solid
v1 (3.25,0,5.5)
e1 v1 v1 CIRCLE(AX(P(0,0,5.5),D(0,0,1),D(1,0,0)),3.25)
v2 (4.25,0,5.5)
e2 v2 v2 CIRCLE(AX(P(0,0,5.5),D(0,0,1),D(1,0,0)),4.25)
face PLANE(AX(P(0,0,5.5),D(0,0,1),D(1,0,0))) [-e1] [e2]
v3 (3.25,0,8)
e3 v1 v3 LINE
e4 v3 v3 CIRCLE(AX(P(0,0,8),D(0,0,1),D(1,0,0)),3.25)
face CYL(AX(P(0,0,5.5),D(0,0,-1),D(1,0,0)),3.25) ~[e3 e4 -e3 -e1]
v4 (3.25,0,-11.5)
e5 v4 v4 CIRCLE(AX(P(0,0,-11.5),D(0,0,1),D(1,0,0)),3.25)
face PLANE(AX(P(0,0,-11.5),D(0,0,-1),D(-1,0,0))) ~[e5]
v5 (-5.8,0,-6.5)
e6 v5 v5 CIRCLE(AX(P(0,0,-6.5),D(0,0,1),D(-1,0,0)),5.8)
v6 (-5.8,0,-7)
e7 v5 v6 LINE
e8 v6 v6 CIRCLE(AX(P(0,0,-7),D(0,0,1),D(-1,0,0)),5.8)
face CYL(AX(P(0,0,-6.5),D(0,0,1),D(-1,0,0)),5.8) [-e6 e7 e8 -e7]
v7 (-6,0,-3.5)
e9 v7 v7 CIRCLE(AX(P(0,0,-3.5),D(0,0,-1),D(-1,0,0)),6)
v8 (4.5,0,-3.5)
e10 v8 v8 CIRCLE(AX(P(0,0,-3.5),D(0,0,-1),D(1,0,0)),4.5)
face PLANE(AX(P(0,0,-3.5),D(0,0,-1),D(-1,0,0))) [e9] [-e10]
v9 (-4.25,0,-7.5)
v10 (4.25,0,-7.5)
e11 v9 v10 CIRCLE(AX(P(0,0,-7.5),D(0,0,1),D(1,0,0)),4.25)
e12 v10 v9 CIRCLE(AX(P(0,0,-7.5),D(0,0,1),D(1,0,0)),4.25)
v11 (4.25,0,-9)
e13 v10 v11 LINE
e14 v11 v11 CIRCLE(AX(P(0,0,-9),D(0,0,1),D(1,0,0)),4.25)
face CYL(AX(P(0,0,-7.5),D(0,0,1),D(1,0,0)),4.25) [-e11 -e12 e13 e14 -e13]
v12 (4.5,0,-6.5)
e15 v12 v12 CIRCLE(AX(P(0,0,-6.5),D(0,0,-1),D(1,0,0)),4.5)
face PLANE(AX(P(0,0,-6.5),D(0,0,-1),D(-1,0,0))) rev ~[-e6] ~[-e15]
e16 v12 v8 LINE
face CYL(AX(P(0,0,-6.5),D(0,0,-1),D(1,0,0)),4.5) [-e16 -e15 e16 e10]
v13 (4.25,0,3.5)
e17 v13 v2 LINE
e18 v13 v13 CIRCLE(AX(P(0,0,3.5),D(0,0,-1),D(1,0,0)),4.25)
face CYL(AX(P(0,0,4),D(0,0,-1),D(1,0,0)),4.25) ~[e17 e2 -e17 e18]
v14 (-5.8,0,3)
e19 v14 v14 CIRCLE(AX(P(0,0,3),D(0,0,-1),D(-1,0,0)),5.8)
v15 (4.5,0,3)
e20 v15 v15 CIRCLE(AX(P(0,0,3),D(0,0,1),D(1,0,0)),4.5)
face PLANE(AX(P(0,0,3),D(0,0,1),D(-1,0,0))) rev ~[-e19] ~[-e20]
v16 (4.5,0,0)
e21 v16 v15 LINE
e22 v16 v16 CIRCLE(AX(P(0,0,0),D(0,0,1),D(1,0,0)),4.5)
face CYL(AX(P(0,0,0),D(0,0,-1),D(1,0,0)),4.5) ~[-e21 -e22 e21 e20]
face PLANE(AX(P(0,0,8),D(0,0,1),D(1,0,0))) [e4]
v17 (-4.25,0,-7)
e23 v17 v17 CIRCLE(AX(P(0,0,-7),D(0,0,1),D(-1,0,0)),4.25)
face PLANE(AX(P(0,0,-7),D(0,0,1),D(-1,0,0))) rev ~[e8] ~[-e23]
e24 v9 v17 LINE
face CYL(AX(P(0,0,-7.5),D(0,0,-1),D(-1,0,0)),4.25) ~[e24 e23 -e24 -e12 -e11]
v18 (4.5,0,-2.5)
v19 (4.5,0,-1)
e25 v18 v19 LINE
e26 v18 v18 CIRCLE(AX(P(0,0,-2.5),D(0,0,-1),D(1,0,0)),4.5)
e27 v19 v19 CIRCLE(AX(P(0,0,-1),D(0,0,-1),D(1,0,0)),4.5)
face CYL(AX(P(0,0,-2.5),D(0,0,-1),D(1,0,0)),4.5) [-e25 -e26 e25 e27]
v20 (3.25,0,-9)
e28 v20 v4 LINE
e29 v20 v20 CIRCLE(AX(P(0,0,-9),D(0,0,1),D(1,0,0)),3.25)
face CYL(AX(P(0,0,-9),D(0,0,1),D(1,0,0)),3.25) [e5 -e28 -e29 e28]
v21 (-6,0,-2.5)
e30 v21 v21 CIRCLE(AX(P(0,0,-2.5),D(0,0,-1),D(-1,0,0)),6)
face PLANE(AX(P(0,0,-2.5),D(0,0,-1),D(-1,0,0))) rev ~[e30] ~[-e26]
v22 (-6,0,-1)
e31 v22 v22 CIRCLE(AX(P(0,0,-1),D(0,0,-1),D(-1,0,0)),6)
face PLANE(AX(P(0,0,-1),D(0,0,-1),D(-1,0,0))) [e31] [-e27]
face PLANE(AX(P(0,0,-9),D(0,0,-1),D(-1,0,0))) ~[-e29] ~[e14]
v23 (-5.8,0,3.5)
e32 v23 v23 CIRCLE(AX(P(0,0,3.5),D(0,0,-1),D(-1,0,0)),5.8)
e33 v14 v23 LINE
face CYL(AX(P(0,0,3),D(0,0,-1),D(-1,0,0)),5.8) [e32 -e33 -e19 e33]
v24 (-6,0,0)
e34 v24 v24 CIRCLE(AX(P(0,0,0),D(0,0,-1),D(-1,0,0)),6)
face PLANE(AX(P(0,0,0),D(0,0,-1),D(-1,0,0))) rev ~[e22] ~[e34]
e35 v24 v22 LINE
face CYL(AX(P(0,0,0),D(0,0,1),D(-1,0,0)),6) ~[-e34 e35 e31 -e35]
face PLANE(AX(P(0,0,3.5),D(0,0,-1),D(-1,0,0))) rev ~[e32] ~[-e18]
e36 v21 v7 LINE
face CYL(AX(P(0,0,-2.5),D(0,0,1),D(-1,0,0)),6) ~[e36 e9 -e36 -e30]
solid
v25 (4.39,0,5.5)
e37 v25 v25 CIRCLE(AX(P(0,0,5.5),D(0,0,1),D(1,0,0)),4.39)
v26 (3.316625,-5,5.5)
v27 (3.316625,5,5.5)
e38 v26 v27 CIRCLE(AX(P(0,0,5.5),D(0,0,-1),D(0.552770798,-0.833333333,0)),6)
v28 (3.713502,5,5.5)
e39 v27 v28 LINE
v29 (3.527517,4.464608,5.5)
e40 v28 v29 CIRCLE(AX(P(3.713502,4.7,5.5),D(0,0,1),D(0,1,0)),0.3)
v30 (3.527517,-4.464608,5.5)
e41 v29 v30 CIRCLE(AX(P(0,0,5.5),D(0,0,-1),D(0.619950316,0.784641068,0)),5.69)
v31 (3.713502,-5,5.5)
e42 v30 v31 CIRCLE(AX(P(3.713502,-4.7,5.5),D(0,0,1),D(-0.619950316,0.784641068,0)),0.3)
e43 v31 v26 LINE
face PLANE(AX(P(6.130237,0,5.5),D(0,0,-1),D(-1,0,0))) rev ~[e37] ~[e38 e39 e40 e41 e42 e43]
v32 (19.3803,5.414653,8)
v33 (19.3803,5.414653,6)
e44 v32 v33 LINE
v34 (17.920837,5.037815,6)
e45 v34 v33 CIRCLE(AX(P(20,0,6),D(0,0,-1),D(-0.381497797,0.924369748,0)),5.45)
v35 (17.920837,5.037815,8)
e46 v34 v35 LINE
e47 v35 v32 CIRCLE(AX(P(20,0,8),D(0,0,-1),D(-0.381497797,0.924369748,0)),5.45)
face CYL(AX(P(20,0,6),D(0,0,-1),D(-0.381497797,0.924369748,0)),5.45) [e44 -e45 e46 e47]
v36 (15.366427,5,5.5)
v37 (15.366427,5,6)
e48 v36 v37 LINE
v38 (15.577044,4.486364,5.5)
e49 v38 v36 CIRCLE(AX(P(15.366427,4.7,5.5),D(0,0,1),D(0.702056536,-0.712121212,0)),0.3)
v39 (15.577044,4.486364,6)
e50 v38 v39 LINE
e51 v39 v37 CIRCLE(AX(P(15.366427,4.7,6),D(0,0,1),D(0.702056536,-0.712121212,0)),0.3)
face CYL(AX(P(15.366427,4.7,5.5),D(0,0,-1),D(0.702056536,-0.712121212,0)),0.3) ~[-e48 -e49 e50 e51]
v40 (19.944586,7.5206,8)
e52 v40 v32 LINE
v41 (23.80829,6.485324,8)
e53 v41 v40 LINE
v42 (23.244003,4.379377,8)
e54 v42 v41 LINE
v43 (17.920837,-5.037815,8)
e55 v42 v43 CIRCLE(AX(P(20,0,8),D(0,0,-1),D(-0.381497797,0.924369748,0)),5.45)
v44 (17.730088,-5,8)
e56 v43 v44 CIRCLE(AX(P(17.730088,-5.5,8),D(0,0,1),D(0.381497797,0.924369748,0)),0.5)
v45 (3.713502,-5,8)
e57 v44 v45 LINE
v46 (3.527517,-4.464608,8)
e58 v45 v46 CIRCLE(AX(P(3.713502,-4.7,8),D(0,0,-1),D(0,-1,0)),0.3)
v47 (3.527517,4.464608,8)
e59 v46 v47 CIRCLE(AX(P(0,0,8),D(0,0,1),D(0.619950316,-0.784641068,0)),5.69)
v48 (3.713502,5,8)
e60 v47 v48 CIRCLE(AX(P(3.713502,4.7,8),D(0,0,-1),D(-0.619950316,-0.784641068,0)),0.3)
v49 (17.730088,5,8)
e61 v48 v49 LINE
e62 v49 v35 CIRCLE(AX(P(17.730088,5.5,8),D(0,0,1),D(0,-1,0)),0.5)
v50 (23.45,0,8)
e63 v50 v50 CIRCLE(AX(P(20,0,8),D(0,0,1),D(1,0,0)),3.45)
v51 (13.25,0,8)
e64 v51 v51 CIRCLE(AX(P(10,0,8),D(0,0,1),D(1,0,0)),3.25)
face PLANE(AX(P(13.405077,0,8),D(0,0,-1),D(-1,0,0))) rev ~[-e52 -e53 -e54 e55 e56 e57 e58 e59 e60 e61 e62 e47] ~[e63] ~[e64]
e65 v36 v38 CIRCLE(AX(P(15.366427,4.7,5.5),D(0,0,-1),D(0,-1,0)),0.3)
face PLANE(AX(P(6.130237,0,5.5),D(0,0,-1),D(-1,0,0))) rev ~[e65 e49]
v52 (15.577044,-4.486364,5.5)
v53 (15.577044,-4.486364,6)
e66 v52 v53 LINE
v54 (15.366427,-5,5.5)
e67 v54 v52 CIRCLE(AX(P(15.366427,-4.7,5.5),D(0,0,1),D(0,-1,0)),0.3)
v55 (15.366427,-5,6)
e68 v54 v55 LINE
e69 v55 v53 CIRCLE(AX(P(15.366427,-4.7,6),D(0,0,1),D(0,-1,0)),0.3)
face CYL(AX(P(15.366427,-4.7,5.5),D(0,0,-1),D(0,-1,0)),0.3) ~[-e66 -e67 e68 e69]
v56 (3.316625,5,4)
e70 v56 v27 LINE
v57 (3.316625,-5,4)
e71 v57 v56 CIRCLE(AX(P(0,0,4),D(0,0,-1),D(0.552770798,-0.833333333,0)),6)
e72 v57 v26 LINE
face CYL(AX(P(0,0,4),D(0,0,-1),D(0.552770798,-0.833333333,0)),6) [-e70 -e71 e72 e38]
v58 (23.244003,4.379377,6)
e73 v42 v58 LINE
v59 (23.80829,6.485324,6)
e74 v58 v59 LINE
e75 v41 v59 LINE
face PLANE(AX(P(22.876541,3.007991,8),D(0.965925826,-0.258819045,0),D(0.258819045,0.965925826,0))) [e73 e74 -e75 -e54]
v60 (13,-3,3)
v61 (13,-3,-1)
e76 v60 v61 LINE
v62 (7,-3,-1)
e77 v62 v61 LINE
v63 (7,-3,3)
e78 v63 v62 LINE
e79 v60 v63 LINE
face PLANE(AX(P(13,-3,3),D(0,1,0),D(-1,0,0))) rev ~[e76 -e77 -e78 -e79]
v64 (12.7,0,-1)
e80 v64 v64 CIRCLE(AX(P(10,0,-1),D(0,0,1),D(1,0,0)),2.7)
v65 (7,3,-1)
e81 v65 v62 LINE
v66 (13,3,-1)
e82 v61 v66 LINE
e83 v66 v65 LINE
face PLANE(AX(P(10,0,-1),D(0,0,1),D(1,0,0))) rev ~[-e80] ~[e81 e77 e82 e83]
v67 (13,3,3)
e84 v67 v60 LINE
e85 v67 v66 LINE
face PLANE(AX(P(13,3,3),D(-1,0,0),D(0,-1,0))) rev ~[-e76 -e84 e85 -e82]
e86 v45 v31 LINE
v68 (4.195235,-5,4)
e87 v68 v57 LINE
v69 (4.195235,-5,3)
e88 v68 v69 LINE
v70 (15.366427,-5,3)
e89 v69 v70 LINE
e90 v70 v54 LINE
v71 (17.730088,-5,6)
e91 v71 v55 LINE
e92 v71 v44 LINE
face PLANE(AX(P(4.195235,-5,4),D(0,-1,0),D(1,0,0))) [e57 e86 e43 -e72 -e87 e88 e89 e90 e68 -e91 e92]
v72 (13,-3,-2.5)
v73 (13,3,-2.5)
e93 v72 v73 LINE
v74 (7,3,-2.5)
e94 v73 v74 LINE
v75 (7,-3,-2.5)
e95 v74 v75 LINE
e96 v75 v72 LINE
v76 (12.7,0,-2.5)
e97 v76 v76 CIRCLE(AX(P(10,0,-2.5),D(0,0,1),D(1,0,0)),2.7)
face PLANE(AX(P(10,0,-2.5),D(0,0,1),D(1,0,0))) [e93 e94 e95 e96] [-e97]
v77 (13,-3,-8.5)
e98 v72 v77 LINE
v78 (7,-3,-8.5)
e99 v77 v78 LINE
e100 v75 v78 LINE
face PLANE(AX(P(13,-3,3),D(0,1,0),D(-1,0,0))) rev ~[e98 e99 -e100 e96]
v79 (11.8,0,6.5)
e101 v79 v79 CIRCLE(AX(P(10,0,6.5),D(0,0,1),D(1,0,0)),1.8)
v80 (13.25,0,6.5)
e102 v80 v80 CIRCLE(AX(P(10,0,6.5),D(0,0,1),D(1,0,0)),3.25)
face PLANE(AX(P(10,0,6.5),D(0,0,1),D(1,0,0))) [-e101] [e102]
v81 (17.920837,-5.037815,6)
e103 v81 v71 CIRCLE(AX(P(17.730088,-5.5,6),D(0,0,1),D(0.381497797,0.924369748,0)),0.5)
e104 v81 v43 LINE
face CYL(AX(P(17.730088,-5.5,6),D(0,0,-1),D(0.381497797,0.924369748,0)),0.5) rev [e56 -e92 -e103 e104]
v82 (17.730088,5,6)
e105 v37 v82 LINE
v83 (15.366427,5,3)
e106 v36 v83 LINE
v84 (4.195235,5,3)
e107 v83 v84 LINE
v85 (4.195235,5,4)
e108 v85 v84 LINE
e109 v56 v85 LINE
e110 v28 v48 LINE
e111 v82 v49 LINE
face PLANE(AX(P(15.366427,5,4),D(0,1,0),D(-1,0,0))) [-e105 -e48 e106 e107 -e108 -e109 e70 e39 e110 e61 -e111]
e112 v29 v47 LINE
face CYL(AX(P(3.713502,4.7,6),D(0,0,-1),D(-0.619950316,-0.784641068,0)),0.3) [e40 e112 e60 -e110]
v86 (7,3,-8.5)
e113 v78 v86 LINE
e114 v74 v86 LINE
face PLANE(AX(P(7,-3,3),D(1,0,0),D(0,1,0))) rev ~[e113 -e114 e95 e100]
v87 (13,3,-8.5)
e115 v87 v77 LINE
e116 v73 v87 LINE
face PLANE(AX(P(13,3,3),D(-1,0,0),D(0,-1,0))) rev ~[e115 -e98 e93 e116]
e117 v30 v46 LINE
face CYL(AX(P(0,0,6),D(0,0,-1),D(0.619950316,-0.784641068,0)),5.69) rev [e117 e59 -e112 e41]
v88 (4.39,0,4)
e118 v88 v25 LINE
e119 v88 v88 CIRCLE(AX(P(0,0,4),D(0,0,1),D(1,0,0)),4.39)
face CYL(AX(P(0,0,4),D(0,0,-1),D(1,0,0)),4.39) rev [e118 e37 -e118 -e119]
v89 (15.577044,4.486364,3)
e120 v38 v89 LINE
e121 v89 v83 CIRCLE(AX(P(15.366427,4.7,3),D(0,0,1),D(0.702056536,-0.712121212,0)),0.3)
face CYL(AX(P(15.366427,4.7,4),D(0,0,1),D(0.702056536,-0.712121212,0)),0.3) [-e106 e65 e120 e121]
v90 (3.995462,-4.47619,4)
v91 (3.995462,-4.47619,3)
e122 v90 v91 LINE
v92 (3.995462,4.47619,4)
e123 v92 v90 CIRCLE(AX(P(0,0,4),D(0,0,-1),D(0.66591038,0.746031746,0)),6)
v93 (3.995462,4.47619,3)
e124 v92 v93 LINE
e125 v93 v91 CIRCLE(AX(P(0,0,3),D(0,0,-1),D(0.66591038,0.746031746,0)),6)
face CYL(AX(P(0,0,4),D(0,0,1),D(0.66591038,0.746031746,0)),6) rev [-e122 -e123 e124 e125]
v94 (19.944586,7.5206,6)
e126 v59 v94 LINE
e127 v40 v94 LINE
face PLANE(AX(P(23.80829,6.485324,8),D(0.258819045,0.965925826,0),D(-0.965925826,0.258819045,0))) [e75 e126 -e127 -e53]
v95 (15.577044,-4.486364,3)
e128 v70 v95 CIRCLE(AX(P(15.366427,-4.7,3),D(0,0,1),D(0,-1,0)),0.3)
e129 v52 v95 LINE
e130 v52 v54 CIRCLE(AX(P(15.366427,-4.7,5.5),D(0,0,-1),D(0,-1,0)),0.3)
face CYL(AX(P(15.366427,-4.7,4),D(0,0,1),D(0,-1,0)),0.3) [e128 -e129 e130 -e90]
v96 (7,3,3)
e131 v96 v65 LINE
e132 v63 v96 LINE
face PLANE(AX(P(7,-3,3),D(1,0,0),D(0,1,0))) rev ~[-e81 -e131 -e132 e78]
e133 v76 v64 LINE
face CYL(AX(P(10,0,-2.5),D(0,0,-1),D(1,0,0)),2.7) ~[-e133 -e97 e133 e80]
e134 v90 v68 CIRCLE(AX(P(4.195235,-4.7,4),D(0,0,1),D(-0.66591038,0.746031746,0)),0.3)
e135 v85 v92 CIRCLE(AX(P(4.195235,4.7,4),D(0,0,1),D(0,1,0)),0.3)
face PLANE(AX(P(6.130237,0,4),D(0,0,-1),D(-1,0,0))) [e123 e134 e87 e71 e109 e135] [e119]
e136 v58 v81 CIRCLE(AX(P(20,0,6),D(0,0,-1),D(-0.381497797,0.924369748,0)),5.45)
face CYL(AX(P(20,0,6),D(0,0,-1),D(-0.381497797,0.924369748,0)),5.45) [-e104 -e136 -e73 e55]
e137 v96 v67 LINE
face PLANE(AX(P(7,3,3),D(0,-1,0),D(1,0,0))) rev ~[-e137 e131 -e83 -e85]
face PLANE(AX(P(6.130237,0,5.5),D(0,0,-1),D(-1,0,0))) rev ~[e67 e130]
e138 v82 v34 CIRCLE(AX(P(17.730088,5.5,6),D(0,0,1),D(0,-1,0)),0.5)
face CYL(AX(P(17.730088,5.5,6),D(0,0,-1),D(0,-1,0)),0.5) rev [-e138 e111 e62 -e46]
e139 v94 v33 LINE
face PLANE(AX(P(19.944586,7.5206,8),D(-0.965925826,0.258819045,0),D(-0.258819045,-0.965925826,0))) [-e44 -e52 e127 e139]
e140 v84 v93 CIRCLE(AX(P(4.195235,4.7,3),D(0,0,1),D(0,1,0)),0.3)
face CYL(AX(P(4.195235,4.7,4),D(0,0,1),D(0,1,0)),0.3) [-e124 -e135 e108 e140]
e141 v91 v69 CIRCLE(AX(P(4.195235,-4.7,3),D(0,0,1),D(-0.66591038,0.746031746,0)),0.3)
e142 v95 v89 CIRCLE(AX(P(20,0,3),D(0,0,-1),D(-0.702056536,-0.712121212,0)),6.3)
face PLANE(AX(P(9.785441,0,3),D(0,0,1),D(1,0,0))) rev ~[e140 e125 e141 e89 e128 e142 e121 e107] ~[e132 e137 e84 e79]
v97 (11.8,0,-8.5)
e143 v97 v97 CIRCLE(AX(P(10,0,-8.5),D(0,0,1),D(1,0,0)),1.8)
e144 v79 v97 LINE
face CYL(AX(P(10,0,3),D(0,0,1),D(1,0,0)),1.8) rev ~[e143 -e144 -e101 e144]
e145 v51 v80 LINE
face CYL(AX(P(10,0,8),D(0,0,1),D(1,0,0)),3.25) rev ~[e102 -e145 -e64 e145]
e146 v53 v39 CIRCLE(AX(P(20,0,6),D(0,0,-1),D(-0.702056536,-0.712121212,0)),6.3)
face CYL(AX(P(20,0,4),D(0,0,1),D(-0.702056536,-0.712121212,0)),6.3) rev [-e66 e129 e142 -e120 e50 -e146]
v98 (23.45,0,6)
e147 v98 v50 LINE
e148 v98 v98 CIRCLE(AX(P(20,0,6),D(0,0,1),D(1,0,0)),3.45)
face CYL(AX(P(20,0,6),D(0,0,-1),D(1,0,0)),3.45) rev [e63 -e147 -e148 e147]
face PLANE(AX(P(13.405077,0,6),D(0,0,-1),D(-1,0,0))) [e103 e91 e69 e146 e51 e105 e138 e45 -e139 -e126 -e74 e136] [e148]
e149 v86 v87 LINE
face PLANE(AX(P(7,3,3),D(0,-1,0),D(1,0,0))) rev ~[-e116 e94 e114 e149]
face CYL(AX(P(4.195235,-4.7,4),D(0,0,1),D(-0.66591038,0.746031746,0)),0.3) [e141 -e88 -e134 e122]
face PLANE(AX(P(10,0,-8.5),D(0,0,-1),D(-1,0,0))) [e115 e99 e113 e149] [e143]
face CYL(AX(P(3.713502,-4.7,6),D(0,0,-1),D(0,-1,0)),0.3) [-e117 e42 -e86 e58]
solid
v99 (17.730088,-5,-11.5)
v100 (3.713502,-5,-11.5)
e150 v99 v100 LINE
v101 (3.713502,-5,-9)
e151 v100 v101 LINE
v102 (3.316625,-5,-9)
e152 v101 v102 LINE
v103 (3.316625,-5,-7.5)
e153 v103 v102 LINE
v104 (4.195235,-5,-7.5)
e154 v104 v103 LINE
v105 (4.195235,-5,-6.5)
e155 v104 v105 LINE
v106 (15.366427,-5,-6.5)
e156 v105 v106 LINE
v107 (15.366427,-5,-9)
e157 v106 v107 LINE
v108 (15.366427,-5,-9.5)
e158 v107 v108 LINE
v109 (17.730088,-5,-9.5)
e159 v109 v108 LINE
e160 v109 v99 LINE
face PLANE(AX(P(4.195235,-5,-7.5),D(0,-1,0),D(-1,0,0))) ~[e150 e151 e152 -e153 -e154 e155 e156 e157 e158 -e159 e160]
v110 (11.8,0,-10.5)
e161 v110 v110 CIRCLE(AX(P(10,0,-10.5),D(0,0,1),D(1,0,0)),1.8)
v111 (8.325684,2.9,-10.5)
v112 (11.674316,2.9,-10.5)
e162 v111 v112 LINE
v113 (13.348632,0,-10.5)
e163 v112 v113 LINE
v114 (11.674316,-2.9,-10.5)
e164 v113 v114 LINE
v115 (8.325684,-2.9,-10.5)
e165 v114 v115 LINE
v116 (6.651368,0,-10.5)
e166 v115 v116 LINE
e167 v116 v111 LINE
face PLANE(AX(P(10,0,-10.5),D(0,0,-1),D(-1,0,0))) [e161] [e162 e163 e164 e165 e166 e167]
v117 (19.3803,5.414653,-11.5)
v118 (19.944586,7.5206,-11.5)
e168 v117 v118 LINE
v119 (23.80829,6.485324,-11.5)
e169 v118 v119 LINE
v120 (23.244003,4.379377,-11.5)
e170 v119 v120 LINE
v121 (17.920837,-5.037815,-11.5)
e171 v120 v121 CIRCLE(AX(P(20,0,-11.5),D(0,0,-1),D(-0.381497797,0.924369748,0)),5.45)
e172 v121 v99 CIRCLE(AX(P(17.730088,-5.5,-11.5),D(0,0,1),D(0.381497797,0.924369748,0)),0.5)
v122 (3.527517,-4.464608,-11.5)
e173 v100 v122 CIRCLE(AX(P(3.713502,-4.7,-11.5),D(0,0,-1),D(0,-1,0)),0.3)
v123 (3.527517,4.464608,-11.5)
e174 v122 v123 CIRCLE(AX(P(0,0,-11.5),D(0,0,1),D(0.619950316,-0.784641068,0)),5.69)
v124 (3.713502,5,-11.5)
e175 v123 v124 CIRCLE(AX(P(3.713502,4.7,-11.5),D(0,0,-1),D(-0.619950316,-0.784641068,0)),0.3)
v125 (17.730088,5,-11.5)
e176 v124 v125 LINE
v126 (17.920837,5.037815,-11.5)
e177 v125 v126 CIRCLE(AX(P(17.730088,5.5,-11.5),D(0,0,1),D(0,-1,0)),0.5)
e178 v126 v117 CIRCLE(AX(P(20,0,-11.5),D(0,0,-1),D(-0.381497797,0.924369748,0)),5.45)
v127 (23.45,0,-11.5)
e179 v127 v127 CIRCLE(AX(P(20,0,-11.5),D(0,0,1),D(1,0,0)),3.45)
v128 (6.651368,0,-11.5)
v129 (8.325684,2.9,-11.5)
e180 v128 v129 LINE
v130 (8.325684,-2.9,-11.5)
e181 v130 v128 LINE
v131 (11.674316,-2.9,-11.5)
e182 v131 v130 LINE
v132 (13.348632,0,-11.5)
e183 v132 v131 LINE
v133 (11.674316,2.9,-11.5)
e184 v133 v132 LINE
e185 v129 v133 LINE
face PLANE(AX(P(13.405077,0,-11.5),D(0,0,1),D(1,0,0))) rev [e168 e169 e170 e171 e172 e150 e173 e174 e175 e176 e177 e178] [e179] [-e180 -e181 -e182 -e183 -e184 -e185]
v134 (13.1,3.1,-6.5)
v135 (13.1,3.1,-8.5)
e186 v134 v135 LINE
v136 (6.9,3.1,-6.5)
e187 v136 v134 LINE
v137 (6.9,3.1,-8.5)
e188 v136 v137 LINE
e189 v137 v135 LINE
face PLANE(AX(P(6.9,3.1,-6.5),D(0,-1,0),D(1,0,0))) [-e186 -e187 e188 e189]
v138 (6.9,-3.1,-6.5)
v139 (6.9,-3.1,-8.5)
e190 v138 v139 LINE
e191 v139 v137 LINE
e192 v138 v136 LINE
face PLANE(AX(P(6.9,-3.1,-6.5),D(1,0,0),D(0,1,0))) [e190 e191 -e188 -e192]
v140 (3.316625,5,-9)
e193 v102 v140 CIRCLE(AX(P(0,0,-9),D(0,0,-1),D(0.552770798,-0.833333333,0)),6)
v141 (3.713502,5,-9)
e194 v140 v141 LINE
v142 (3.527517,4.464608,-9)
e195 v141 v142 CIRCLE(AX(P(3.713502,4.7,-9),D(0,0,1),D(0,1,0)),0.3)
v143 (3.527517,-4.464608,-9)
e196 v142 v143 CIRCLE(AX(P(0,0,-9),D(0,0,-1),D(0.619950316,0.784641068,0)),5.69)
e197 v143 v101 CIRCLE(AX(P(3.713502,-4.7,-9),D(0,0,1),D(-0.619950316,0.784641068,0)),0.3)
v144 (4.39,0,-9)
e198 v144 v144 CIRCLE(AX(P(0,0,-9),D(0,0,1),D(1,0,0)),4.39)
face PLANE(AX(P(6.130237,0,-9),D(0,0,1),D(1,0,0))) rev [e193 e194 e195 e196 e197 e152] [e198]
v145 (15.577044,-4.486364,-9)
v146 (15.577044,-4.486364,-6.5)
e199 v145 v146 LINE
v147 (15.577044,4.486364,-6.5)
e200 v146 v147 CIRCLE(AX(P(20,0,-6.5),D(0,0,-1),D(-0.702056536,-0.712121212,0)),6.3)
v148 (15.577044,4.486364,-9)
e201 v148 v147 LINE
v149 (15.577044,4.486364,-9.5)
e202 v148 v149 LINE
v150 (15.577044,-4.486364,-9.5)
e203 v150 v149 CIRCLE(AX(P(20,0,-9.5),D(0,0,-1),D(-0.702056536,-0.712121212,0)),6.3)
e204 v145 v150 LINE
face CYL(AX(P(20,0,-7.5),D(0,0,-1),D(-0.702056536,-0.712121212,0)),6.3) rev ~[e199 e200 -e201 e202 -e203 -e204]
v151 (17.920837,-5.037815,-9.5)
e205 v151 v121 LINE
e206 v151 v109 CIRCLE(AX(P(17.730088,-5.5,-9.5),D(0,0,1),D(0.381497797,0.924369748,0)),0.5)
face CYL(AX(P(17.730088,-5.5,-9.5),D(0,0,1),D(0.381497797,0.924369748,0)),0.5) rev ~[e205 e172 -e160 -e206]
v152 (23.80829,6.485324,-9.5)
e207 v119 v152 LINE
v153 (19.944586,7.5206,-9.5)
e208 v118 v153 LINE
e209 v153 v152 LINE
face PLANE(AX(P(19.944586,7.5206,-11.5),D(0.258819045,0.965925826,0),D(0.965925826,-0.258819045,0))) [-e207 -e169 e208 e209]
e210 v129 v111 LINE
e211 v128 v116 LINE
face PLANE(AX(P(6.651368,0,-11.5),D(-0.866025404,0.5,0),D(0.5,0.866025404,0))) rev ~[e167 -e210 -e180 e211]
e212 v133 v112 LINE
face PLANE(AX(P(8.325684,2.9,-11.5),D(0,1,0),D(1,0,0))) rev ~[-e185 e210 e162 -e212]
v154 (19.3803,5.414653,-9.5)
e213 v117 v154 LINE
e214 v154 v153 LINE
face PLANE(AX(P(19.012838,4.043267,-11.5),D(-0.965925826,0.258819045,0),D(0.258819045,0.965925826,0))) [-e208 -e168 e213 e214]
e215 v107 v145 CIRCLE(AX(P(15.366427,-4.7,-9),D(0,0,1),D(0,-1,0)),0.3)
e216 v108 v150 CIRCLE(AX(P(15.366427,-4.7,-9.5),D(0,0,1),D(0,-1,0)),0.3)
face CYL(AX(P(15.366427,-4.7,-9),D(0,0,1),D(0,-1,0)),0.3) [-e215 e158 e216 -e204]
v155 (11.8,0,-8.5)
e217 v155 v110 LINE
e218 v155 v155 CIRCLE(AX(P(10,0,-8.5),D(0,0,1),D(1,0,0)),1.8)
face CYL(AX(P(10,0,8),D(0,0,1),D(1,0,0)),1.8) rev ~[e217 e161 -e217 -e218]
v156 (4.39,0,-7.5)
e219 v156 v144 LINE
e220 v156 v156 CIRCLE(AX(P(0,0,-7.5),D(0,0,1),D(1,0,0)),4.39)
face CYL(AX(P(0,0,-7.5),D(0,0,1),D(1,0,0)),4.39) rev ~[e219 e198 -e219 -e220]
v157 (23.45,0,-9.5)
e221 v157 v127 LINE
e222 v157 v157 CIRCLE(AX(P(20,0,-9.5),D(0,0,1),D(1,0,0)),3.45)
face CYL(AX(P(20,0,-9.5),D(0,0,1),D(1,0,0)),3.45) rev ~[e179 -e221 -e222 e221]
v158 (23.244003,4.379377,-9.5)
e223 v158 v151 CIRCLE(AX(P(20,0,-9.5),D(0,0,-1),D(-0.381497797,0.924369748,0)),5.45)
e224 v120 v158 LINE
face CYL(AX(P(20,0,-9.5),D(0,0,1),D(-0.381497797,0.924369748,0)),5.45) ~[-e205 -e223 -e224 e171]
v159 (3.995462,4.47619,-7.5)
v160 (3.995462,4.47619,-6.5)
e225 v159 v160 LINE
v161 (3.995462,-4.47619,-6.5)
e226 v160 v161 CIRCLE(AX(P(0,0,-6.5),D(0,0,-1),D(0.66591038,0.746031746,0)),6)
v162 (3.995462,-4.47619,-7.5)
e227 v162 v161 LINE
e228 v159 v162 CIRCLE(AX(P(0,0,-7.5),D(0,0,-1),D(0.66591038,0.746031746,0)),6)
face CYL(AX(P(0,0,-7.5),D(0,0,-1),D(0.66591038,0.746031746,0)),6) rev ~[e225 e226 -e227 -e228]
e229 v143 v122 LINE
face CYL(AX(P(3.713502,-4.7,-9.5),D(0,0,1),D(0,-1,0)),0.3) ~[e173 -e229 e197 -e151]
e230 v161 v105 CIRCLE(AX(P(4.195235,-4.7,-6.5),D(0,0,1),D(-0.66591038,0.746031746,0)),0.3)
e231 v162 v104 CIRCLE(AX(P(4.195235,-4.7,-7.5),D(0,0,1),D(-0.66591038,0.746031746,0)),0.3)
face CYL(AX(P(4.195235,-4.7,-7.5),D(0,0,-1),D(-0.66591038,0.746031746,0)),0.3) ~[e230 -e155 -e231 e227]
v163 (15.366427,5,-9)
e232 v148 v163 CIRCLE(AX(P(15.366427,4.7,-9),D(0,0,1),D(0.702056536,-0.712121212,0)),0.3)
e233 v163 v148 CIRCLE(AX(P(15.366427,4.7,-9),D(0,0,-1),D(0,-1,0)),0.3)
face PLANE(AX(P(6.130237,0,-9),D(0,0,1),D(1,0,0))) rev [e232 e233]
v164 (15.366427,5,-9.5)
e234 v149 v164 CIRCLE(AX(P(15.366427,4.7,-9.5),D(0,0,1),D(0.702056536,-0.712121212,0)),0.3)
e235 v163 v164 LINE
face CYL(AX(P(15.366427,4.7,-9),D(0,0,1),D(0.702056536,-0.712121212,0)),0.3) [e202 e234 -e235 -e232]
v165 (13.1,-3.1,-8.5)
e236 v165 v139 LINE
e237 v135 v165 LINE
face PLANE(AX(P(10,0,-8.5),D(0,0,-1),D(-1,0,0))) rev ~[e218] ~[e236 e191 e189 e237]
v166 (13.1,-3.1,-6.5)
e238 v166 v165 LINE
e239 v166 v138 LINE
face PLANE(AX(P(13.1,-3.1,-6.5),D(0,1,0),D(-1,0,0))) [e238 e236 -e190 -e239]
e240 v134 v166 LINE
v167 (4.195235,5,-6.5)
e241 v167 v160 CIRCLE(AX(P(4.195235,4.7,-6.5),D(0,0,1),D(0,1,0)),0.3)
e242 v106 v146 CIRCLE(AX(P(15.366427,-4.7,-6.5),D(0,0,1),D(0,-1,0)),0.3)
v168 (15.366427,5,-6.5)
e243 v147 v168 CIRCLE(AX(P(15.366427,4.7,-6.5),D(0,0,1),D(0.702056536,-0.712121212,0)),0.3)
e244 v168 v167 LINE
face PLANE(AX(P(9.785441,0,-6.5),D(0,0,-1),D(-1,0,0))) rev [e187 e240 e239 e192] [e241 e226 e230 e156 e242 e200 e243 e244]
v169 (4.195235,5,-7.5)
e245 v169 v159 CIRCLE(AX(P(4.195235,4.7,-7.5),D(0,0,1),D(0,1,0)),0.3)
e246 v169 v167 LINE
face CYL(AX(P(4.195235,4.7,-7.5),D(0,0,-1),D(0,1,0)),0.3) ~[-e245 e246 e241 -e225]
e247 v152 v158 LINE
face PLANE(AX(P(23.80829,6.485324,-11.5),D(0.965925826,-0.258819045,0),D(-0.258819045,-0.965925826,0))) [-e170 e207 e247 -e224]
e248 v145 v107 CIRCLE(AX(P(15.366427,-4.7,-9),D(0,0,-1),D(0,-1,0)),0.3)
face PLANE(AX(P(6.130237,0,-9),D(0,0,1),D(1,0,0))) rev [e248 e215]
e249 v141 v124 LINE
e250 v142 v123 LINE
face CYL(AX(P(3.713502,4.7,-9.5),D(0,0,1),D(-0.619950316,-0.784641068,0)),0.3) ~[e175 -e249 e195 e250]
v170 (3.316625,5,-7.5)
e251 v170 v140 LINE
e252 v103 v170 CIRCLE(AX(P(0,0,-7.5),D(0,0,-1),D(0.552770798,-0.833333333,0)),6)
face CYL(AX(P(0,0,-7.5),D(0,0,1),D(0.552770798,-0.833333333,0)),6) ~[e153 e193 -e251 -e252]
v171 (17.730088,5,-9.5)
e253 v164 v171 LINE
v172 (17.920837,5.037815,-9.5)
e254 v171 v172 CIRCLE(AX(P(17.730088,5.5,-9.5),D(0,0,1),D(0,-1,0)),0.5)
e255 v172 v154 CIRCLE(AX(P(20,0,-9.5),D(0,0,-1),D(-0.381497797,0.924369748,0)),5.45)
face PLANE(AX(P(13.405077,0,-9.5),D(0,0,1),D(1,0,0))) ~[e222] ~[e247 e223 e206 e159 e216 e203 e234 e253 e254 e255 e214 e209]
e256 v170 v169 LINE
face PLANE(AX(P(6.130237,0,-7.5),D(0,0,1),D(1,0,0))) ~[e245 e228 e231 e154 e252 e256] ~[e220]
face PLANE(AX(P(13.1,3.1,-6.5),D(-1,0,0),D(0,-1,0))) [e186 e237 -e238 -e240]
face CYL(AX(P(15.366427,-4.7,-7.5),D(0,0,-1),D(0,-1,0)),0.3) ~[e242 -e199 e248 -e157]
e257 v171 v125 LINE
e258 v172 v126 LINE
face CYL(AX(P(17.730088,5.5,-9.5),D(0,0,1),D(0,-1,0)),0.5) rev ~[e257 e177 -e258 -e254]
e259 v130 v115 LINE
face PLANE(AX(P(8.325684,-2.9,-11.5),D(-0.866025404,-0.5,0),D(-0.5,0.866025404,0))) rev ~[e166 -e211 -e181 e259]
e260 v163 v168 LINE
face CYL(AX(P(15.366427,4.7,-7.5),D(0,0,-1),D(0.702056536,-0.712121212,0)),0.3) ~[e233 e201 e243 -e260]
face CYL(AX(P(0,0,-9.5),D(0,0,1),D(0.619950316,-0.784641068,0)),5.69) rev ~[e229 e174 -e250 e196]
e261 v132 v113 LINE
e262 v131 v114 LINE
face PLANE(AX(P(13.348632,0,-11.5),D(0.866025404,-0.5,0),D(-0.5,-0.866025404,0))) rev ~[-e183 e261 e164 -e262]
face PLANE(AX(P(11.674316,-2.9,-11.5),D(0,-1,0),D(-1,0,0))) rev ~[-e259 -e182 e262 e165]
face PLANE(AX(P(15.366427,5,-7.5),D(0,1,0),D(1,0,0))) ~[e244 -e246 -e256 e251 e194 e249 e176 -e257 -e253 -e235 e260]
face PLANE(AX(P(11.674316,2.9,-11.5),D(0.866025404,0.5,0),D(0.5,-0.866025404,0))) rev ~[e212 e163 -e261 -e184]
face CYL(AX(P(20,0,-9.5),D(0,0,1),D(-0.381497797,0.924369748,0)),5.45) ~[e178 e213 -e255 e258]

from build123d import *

# Parameters (mm, degrees)
SKETCH_1_R               = 4.5
EXTRUDE_1_DEPTH          = 3
SKETCH_2_R               = 6
EXTRUDE_2_DEPTH          = 1
EXTRUDE_START            = 1.5
SKETCH_3_R               = 4.5
EXTRUDE_3_DEPTH          = 1.5
SKETCH_4_R               = 6.000000000000001
EXTRUDE_4_DEPTH          = 1
EXTRUDE_START_2          = 3
SKETCH_5_R               = 4.5
EXTRUDE_5_DEPTH          = 3
SKETCH_6_R               = 6.000000000000001
EXTRUDE_6_DEPTH          = 1
EXTRUDE_START_3          = 1
SKETCH_7_R               = 6.000000000000001
EXTRUDE_7_DEPTH          = 1
SKETCH_10_R              = 4.25
EXTRUDE_10_DEPTH         = 1.5
SKETCH_11_R              = 3.25
EXTRUDE_11_DEPTH         = 2.5
SKETCH_12_R              = 4.390000000000002
EXTRUDE_12_DEPTH         = 1.5
EXTRUDE_13_DEPTH         = 0.5
FILLET_9_R               = 0.3
SKETCH_14_R              = 3.450000000000003
EXTRUDE_14_DEPTH         = 2
EXTRUDE_15_DEPTH         = 1
SKETCH_16_R              = 1.799999999999999
CUT_EXTRUDE_1_DEPTH      = 33.61828474950821
CUT_EXTRUDE_2_DEPTH      = 2
EXTRUDE_16_DEPTH         = 11.5
SKETCH_19_R              = 1.799999999999999
CUT_EXTRUDE_3_DEPTH      = 30.89903844607716
CUT_EXTRUDE_4_DEPTH      = 0.75
CUT_EXTRUDE_4_DEPTH_BACK = 0.75
SKETCH_20_R              = 2.6999999999999993
SKETCH_21_R              = 3.2500000000000027
CUT_EXTRUDE_5_DEPTH      = 1.5
CUT_EXTRUDE_6_DEPTH      = 1
EXTRUDE_17_DEPTH         = 2
EXTRUDE_18_DEPTH         = 2
SKETCH_26_R              = 6.000000000000001
SKETCH_26_R_2            = 5.800000000000002
CUT_EXTRUDE_8_DEPTH      = 31.240898289165305
SKETCH_27_R              = 6.000000000000001
SKETCH_27_R_2            = 5.8000000000000025
CUT_EXTRUDE_9_DEPTH      = 31.240898289165305
SKETCH_28_R              = 5.800000000000003
SKETCH_28_R_2            = 4.25
CUT_EXTRUDE_10_DEPTH     = 0.5
SKETCH_29_R              = 5.800000000000003
SKETCH_29_R_2            = 4.25
CUT_EXTRUDE_11_DEPTH     = 0.5


with BuildPart() as part:
    # ｽｹｯﾁ1 → ﾎﾞｽ - 押し出し1 (new body)
    with BuildSketch(Plane.XY):
        Circle(SKETCH_1_R)
    extrude(amount=EXTRUDE_1_DEPTH)

    # ｽｹｯﾁ2 → ﾎﾞｽ - 押し出し2 (add)
    with BuildSketch(Plane(origin=(0, 0, 0), x_dir=(-1, 0, 0), z_dir=(0, 0, -1))):
        Circle(SKETCH_2_R)
    extrude(amount=EXTRUDE_2_DEPTH)

    # ｽｹｯﾁ3 → ﾎﾞｽ - 押し出し3 (add)
    with BuildSketch(Plane(origin=(0, 0, -1), x_dir=(-1, 0, 0), z_dir=(0, 0, -1)).offset(EXTRUDE_START)):
        with Locations(Location((0, 0, 0), (0, 0, 180))):
            Circle(SKETCH_3_R)
    extrude(amount=-EXTRUDE_3_DEPTH)

    # ｽｹｯﾁ4 → ﾎﾞｽ - 押し出し4 (add)
    with BuildSketch(Plane(origin=(0, 0, -2.5), x_dir=(-1, 0, 0), z_dir=(0, 0, -1))):
        Circle(SKETCH_4_R)
    extrude(amount=EXTRUDE_4_DEPTH)

    # ｽｹｯﾁ5 → ﾎﾞｽ - 押し出し5 (add)
    with BuildSketch(Plane(origin=(0, 0, -3.5), x_dir=(-1, 0, 0), z_dir=(0, 0, -1)).offset(EXTRUDE_START_2)):
        with Locations(Location((0, 0, 0), (0, 0, 180))):
            Circle(SKETCH_5_R)
    extrude(amount=-EXTRUDE_5_DEPTH)

    # ｽｹｯﾁ6 → ﾎﾞｽ - 押し出し6 (add)
    with BuildSketch(Plane(origin=(0, 0, -6.500000000000001), x_dir=(-1, 0, 0), z_dir=(0, 0, -1))):
        Circle(SKETCH_6_R)
    extrude(amount=EXTRUDE_6_DEPTH)

    # ｽｹｯﾁ7 → ﾎﾞｽ - 押し出し7 (add)
    with BuildSketch(Plane.XY.offset(3).offset(EXTRUDE_START_3)):
        with Locations(Location((0, 0, 0), (0, 0, 180))):
            Circle(SKETCH_7_R)
    extrude(amount=-EXTRUDE_7_DEPTH)

    # ｽｹｯﾁ10 → ﾎﾞｽ - 押し出し10 (add)
    with BuildSketch(Plane.XY.offset(4)):
        Circle(SKETCH_10_R)
    extrude_10 = extrude(amount=EXTRUDE_10_DEPTH)

    # ｽｹｯﾁ11 → ﾎﾞｽ - 押し出し11 (add)
    with BuildSketch(Plane.XY.offset(5.5)):
        Circle(SKETCH_11_R)
    extrude_11 = extrude(amount=EXTRUDE_11_DEPTH)

    # ﾐﾗｰ1: ﾎﾞｽ - 押し出し10, ﾎﾞｽ - 押し出し11 across plane
    add(extrude_10.mirror(Plane.XY.offset(-1.7500000000000002)))
    add(extrude_11.mirror(Plane.XY.offset(-1.7500000000000002)))

    # ｽｹｯﾁ26 → ｶｯﾄ - 押し出し8 (cut, through all)
    with BuildSketch(Plane(origin=(0, 0, 3), x_dir=(-1, 0, 0), z_dir=(0, 0, -1))):
        Circle(SKETCH_26_R)
        Circle(SKETCH_26_R_2, mode=Mode.SUBTRACT)
    extrude(amount=-CUT_EXTRUDE_8_DEPTH, mode=Mode.SUBTRACT)

    # ｽｹｯﾁ27 → ｶｯﾄ - 押し出し9 (cut, through all)
    with BuildSketch(Plane.XY.offset(-6.500000000000001)):
        with Locations(Location((0, 0, 0), (0, 0, 180))):
            Circle(SKETCH_27_R)
        with Locations(Location((0, 0, 0), (0, 0, 180))):
            Circle(SKETCH_27_R_2, mode=Mode.SUBTRACT)
    extrude(amount=-CUT_EXTRUDE_9_DEPTH, mode=Mode.SUBTRACT)

    # ｽｹｯﾁ28 → ｶｯﾄ - 押し出し10 (cut)
    with BuildSketch(Plane(origin=(0, 0, 4), x_dir=(-1, 0, 0), z_dir=(0, 0, -1))):
        Circle(SKETCH_28_R)
        with Locations(Location((-4.3e-16, -4.3e-16, 0), (0, 0, 180))):
            Circle(SKETCH_28_R_2, mode=Mode.SUBTRACT)
    extrude(amount=CUT_EXTRUDE_10_DEPTH, mode=Mode.SUBTRACT)

    # ｽｹｯﾁ29 → ｶｯﾄ - 押し出し11 (cut)
    with BuildSketch(Plane.XY.offset(-7.500000000000001)):
        with Locations(Location((4.3e-16, -4.3e-16, 0), (0, 0, 180))):
            Circle(SKETCH_29_R)
        with Locations(Location((4.3e-16, -4.3e-16, 0), (0, 0, 180))):
            Circle(SKETCH_29_R_2, mode=Mode.SUBTRACT)
    extrude(amount=CUT_EXTRUDE_11_DEPTH, mode=Mode.SUBTRACT)


with BuildPart() as body_2:
    # ｽｹｯﾁ12 → ﾎﾞｽ - 押し出し12 (new body)
    with BuildSketch(Plane.XY.offset(4)):
        with BuildLine():
            Line((3.3166247903554016, 5), (16.167246420652642, 5))
            ThreePointArc((16.167246420652642, 5), (13.700000000000001, 3.57e-15), (16.16724642065264, -5))
            Line((16.16724642065264, -5), (3.3166247903553985, -5.000000000000003))
            ThreePointArc((3.3166247903553985, -5.000000000000003), (-6.000000000000001, 7.3e-16), (3.3166247903554016, 5))
        make_face()
        Circle(SKETCH_12_R, mode=Mode.SUBTRACT)
    extrude(amount=EXTRUDE_12_DEPTH)

    # ｽｹｯﾁ13 → ﾎﾞｽ - 押し出し13 (add)
    with BuildSketch(Plane.XY.offset(5.5)):
        with BuildLine():
            Line((15.366426864718767, 5.000000000000001), (3.71350238992787, 4.999999999999999))
            ThreePointArc((3.71350238992787, 4.999999999999999), (3.4301142319534543, 4.798443648448575), (3.5275172952737197, 4.464607679465777))
            ThreePointArc((3.5275172952737197, 4.464607679465777), (5.69, 3.16e-15), (3.527517295273725, -4.464607679465773))
            ThreePointArc((3.527517295273725, -4.464607679465773), (3.4301142319534588, -4.798443648448569), (3.713502389927875, -4.9999999999999964))
            Line((3.713502389927875, -4.9999999999999964), (15.366426864718758, -4.999999999999996))
            ThreePointArc((15.366426864718758, -4.999999999999996), (15.643997494550977, -4.813818036595895), (15.57704382541336, -4.486363636363631))
            ThreePointArc((15.57704382541336, -4.486363636363631), (13.7, 6.37e-15), (15.577043825413366, 4.486363636363639))
            ThreePointArc((15.577043825413366, 4.486363636363639), (15.643997494550984, 4.813818036595901), (15.366426864718767, 5.000000000000001))
        make_face()
    extrude(amount=EXTRUDE_13_DEPTH)

    # ﾌｨﾚｯﾄ9
    fillet_9_edges = [body_2.edges().sort_by_distance(p)[0] for p in [
        (16.16724642065264, -5.000000000000001, 4.75),
        (16.167246420652642, 5, 4.75),
    ]]
    fillet(fillet_9_edges, radius=FILLET_9_R)

    # ｽｹｯﾁ14 → ﾎﾞｽ - 押し出し14 (add)
    with BuildSketch(Plane.XY.offset(6)):
        with BuildLine():
            Line((3.71350238992787, 5), (17.73008810743677, 5))
            ThreePointArc((17.73008810743677, 5), (17.827318665969592, 5.00954488636839), (17.920837005971492, 5.03781512605042))
            ThreePointArc((17.920837005971492, 5.03781512605042), (25.45, 2.42e-15), (17.920837005971496, -5.037815126050422))
            ThreePointArc((17.920837005971496, -5.037815126050422), (17.827318665969596, -5.009544886368393), (17.730088107436774, -5.000000000000003))
            Line((17.730088107436774, -5.000000000000003), (3.713502389927875, -5.000000000000003))
            ThreePointArc((3.713502389927875, -5.000000000000003), (3.430114231953458, -4.79844364844857), (3.5275172952737246, -4.4646076794657725))
            ThreePointArc((3.5275172952737246, -4.4646076794657725), (5.69, 3.16e-15), (3.52751729527372, 4.464607679465777))
            ThreePointArc((3.52751729527372, 4.464607679465777), (3.4301142319534534, 4.798443648448575), (3.71350238992787, 5))
        make_face()
        with Locations((20, 0)):
            Circle(SKETCH_14_R, mode=Mode.SUBTRACT)
    extrude(amount=EXTRUDE_14_DEPTH)

    # ｽｹｯﾁ15 → ﾎﾞｽ - 押し出し15 (add)
    with BuildSketch(Plane(origin=(0, 0, 4), x_dir=(-1, 0, 0), z_dir=(0, 0, -1))):
        with BuildLine():
            Line((-15.366426864718765, 5), (-4.195235392680607, 5.000000000000001))
            ThreePointArc((-4.195235392680607, 5.000000000000001), (-3.9149294373899135, 4.806904496764971), (-3.9954622787434353, 4.476190476190477))
            ThreePointArc((-3.9954622787434353, 4.476190476190477), (-6.000000000000001, 7.3e-16), (-3.9954622787434353, -4.476190476190477))
            ThreePointArc((-3.9954622787434353, -4.476190476190477), (-3.9149294373899135, -4.806904496764971), (-4.195235392680607, -5.000000000000001))
            Line((-4.195235392680607, -5.000000000000001), (-15.366426864718763, -5))
            ThreePointArc((-15.366426864718763, -5), (-15.643997494550984, -4.813818036595896), (-15.577043825413359, -4.48636363636363))
            ThreePointArc((-15.577043825413359, -4.48636363636363), (-13.700000000000001, 4.2e-15), (-15.577043825413364, 4.486363636363636))
            ThreePointArc((-15.577043825413364, 4.486363636363636), (-15.643997494550984, 4.813818036595898), (-15.366426864718765, 5))
        make_face()
    extrude(amount=EXTRUDE_15_DEPTH)


with BuildPart() as body_3:
    # ﾐﾗｰ2: mirrored copy
    add(body_2.part.mirror(Plane.XY.offset(-1.7500000000000002)))


with BuildPart() as cut_extrude_1_tool:
    # ｽｹｯﾁ16 → ｶｯﾄ - 押し出し1 (new, through all)
    with BuildSketch(Plane.XY.offset(8)):
        with Locations((10, 0)):
            Circle(SKETCH_16_R)
    extrude(amount=-CUT_EXTRUDE_1_DEPTH)


with BuildPart() as body_2_1:
    add(body_2.part)

    # ｶｯﾄ - 押し出し1: cut by cut_extrude_1_tool
    add(cut_extrude_1_tool.part, mode=Mode.SUBTRACT)

    # ｽｹｯﾁ18 → ﾎﾞｽ - 押し出し16 (add)
    with BuildSketch(Plane(origin=(0, 0, 3), x_dir=(-1, 0, 0), z_dir=(0, 0, -1))):
        Polygon((-7.000000000000002, 2.9999999999999996), (-13.000000000000002, 2.9999999999999987), (-13.000000000000002, -2.9999999999999996), (-7.000000000000002, -2.999999999999999), align=None)
    extrude(amount=EXTRUDE_16_DEPTH)

    # ｽｹｯﾁ19 → ｶｯﾄ - 押し出し3 (cut, through all)
    with BuildSketch(Plane.XY.offset(3)):
        with Locations((10, 0)):
            Circle(SKETCH_19_R)
    extrude(amount=-CUT_EXTRUDE_3_DEPTH, mode=Mode.SUBTRACT)

    # ｽｹｯﾁ20 → ｶｯﾄ - 押し出し4 (cut, two sides: drawn at the far end of the back side and taken through both)
    with BuildSketch(Plane.XY.offset(-1.7500000000000002).offset(-CUT_EXTRUDE_4_DEPTH_BACK)):
        Polygon((13.000000000000002, 2.9999999999999987), (7.000000000000002, 2.9999999999999996), (7.000000000000002, -2.999999999999999), (13.000000000000002, -2.9999999999999996), align=None)
        with Locations((10, 0)):
            Circle(SKETCH_20_R, mode=Mode.SUBTRACT)
    extrude(amount=CUT_EXTRUDE_4_DEPTH + CUT_EXTRUDE_4_DEPTH_BACK, mode=Mode.SUBTRACT)

    # ｽｹｯﾁ21 → ｶｯﾄ - 押し出し5 (cut)
    with BuildSketch(Plane.XY.offset(8)):
        with Locations((10, 0)):
            Circle(SKETCH_21_R)
    extrude(amount=-CUT_EXTRUDE_5_DEPTH, mode=Mode.SUBTRACT)

    # ｽｹｯﾁ23 → ﾎﾞｽ - 押し出し17 (add)
    with BuildSketch(Plane.XY.offset(8)):
        Polygon((19.01283786204607, 4.043267356160141), (22.87654116720234, 3.007991175750056), (23.808289729571417, 6.485324150390701), (19.944586424415146, 7.520600330800787), align=None)
    extrude(amount=-EXTRUDE_17_DEPTH)


with BuildPart() as body_3_1:
    add(body_3.part)

    # ｶｯﾄ - 押し出し1: cut by cut_extrude_1_tool
    add(cut_extrude_1_tool.part, mode=Mode.SUBTRACT)

    # ｽｹｯﾁ17 → ｶｯﾄ - 押し出し2 (cut)
    with BuildSketch(Plane.XY.offset(-6.500000000000001)):
        Polygon((13.100000000000001, -3.0999999999999996), (6.900000000000001, -3.1000000000000005), (6.900000000000001, 3.0999999999999996), (13.100000000000001, 3.1000000000000005), align=None)
    extrude(amount=-CUT_EXTRUDE_2_DEPTH, mode=Mode.SUBTRACT)

    # ｽｹｯﾁ22 → ｶｯﾄ - 押し出し6 (cut)
    with BuildSketch(Plane(origin=(0, 0, -11.5), x_dir=(-1, 0, 0), z_dir=(0, 0, -1))):
        Polygon((-11.674315780649914, 2.8999999999999995), (-13.348631561299829, 1e-17), (-11.674315780649913, -2.900000000000001), (-8.325684219350087, -2.9000000000000004), (-6.651368438700171, -8.7e-16), (-8.325684219350087, 2.9), align=None)
    extrude(amount=-CUT_EXTRUDE_6_DEPTH, mode=Mode.SUBTRACT)

    # ｽｹｯﾁ24 → ﾎﾞｽ - 押し出し18 (add)
    with BuildSketch(Plane(origin=(0, 0, -11.5), x_dir=(-1, 0, 0), z_dir=(0, 0, -1))):
        Polygon((-22.87654116720234, 3.007991175750056), (-19.01283786204607, 4.043267356160141), (-19.944586424415146, 7.520600330800787), (-23.808289729571417, 6.485324150390701), align=None)
    extrude(amount=-EXTRUDE_18_DEPTH)


solid = Compound([part.part, body_2_1.part, body_3_1.part])
